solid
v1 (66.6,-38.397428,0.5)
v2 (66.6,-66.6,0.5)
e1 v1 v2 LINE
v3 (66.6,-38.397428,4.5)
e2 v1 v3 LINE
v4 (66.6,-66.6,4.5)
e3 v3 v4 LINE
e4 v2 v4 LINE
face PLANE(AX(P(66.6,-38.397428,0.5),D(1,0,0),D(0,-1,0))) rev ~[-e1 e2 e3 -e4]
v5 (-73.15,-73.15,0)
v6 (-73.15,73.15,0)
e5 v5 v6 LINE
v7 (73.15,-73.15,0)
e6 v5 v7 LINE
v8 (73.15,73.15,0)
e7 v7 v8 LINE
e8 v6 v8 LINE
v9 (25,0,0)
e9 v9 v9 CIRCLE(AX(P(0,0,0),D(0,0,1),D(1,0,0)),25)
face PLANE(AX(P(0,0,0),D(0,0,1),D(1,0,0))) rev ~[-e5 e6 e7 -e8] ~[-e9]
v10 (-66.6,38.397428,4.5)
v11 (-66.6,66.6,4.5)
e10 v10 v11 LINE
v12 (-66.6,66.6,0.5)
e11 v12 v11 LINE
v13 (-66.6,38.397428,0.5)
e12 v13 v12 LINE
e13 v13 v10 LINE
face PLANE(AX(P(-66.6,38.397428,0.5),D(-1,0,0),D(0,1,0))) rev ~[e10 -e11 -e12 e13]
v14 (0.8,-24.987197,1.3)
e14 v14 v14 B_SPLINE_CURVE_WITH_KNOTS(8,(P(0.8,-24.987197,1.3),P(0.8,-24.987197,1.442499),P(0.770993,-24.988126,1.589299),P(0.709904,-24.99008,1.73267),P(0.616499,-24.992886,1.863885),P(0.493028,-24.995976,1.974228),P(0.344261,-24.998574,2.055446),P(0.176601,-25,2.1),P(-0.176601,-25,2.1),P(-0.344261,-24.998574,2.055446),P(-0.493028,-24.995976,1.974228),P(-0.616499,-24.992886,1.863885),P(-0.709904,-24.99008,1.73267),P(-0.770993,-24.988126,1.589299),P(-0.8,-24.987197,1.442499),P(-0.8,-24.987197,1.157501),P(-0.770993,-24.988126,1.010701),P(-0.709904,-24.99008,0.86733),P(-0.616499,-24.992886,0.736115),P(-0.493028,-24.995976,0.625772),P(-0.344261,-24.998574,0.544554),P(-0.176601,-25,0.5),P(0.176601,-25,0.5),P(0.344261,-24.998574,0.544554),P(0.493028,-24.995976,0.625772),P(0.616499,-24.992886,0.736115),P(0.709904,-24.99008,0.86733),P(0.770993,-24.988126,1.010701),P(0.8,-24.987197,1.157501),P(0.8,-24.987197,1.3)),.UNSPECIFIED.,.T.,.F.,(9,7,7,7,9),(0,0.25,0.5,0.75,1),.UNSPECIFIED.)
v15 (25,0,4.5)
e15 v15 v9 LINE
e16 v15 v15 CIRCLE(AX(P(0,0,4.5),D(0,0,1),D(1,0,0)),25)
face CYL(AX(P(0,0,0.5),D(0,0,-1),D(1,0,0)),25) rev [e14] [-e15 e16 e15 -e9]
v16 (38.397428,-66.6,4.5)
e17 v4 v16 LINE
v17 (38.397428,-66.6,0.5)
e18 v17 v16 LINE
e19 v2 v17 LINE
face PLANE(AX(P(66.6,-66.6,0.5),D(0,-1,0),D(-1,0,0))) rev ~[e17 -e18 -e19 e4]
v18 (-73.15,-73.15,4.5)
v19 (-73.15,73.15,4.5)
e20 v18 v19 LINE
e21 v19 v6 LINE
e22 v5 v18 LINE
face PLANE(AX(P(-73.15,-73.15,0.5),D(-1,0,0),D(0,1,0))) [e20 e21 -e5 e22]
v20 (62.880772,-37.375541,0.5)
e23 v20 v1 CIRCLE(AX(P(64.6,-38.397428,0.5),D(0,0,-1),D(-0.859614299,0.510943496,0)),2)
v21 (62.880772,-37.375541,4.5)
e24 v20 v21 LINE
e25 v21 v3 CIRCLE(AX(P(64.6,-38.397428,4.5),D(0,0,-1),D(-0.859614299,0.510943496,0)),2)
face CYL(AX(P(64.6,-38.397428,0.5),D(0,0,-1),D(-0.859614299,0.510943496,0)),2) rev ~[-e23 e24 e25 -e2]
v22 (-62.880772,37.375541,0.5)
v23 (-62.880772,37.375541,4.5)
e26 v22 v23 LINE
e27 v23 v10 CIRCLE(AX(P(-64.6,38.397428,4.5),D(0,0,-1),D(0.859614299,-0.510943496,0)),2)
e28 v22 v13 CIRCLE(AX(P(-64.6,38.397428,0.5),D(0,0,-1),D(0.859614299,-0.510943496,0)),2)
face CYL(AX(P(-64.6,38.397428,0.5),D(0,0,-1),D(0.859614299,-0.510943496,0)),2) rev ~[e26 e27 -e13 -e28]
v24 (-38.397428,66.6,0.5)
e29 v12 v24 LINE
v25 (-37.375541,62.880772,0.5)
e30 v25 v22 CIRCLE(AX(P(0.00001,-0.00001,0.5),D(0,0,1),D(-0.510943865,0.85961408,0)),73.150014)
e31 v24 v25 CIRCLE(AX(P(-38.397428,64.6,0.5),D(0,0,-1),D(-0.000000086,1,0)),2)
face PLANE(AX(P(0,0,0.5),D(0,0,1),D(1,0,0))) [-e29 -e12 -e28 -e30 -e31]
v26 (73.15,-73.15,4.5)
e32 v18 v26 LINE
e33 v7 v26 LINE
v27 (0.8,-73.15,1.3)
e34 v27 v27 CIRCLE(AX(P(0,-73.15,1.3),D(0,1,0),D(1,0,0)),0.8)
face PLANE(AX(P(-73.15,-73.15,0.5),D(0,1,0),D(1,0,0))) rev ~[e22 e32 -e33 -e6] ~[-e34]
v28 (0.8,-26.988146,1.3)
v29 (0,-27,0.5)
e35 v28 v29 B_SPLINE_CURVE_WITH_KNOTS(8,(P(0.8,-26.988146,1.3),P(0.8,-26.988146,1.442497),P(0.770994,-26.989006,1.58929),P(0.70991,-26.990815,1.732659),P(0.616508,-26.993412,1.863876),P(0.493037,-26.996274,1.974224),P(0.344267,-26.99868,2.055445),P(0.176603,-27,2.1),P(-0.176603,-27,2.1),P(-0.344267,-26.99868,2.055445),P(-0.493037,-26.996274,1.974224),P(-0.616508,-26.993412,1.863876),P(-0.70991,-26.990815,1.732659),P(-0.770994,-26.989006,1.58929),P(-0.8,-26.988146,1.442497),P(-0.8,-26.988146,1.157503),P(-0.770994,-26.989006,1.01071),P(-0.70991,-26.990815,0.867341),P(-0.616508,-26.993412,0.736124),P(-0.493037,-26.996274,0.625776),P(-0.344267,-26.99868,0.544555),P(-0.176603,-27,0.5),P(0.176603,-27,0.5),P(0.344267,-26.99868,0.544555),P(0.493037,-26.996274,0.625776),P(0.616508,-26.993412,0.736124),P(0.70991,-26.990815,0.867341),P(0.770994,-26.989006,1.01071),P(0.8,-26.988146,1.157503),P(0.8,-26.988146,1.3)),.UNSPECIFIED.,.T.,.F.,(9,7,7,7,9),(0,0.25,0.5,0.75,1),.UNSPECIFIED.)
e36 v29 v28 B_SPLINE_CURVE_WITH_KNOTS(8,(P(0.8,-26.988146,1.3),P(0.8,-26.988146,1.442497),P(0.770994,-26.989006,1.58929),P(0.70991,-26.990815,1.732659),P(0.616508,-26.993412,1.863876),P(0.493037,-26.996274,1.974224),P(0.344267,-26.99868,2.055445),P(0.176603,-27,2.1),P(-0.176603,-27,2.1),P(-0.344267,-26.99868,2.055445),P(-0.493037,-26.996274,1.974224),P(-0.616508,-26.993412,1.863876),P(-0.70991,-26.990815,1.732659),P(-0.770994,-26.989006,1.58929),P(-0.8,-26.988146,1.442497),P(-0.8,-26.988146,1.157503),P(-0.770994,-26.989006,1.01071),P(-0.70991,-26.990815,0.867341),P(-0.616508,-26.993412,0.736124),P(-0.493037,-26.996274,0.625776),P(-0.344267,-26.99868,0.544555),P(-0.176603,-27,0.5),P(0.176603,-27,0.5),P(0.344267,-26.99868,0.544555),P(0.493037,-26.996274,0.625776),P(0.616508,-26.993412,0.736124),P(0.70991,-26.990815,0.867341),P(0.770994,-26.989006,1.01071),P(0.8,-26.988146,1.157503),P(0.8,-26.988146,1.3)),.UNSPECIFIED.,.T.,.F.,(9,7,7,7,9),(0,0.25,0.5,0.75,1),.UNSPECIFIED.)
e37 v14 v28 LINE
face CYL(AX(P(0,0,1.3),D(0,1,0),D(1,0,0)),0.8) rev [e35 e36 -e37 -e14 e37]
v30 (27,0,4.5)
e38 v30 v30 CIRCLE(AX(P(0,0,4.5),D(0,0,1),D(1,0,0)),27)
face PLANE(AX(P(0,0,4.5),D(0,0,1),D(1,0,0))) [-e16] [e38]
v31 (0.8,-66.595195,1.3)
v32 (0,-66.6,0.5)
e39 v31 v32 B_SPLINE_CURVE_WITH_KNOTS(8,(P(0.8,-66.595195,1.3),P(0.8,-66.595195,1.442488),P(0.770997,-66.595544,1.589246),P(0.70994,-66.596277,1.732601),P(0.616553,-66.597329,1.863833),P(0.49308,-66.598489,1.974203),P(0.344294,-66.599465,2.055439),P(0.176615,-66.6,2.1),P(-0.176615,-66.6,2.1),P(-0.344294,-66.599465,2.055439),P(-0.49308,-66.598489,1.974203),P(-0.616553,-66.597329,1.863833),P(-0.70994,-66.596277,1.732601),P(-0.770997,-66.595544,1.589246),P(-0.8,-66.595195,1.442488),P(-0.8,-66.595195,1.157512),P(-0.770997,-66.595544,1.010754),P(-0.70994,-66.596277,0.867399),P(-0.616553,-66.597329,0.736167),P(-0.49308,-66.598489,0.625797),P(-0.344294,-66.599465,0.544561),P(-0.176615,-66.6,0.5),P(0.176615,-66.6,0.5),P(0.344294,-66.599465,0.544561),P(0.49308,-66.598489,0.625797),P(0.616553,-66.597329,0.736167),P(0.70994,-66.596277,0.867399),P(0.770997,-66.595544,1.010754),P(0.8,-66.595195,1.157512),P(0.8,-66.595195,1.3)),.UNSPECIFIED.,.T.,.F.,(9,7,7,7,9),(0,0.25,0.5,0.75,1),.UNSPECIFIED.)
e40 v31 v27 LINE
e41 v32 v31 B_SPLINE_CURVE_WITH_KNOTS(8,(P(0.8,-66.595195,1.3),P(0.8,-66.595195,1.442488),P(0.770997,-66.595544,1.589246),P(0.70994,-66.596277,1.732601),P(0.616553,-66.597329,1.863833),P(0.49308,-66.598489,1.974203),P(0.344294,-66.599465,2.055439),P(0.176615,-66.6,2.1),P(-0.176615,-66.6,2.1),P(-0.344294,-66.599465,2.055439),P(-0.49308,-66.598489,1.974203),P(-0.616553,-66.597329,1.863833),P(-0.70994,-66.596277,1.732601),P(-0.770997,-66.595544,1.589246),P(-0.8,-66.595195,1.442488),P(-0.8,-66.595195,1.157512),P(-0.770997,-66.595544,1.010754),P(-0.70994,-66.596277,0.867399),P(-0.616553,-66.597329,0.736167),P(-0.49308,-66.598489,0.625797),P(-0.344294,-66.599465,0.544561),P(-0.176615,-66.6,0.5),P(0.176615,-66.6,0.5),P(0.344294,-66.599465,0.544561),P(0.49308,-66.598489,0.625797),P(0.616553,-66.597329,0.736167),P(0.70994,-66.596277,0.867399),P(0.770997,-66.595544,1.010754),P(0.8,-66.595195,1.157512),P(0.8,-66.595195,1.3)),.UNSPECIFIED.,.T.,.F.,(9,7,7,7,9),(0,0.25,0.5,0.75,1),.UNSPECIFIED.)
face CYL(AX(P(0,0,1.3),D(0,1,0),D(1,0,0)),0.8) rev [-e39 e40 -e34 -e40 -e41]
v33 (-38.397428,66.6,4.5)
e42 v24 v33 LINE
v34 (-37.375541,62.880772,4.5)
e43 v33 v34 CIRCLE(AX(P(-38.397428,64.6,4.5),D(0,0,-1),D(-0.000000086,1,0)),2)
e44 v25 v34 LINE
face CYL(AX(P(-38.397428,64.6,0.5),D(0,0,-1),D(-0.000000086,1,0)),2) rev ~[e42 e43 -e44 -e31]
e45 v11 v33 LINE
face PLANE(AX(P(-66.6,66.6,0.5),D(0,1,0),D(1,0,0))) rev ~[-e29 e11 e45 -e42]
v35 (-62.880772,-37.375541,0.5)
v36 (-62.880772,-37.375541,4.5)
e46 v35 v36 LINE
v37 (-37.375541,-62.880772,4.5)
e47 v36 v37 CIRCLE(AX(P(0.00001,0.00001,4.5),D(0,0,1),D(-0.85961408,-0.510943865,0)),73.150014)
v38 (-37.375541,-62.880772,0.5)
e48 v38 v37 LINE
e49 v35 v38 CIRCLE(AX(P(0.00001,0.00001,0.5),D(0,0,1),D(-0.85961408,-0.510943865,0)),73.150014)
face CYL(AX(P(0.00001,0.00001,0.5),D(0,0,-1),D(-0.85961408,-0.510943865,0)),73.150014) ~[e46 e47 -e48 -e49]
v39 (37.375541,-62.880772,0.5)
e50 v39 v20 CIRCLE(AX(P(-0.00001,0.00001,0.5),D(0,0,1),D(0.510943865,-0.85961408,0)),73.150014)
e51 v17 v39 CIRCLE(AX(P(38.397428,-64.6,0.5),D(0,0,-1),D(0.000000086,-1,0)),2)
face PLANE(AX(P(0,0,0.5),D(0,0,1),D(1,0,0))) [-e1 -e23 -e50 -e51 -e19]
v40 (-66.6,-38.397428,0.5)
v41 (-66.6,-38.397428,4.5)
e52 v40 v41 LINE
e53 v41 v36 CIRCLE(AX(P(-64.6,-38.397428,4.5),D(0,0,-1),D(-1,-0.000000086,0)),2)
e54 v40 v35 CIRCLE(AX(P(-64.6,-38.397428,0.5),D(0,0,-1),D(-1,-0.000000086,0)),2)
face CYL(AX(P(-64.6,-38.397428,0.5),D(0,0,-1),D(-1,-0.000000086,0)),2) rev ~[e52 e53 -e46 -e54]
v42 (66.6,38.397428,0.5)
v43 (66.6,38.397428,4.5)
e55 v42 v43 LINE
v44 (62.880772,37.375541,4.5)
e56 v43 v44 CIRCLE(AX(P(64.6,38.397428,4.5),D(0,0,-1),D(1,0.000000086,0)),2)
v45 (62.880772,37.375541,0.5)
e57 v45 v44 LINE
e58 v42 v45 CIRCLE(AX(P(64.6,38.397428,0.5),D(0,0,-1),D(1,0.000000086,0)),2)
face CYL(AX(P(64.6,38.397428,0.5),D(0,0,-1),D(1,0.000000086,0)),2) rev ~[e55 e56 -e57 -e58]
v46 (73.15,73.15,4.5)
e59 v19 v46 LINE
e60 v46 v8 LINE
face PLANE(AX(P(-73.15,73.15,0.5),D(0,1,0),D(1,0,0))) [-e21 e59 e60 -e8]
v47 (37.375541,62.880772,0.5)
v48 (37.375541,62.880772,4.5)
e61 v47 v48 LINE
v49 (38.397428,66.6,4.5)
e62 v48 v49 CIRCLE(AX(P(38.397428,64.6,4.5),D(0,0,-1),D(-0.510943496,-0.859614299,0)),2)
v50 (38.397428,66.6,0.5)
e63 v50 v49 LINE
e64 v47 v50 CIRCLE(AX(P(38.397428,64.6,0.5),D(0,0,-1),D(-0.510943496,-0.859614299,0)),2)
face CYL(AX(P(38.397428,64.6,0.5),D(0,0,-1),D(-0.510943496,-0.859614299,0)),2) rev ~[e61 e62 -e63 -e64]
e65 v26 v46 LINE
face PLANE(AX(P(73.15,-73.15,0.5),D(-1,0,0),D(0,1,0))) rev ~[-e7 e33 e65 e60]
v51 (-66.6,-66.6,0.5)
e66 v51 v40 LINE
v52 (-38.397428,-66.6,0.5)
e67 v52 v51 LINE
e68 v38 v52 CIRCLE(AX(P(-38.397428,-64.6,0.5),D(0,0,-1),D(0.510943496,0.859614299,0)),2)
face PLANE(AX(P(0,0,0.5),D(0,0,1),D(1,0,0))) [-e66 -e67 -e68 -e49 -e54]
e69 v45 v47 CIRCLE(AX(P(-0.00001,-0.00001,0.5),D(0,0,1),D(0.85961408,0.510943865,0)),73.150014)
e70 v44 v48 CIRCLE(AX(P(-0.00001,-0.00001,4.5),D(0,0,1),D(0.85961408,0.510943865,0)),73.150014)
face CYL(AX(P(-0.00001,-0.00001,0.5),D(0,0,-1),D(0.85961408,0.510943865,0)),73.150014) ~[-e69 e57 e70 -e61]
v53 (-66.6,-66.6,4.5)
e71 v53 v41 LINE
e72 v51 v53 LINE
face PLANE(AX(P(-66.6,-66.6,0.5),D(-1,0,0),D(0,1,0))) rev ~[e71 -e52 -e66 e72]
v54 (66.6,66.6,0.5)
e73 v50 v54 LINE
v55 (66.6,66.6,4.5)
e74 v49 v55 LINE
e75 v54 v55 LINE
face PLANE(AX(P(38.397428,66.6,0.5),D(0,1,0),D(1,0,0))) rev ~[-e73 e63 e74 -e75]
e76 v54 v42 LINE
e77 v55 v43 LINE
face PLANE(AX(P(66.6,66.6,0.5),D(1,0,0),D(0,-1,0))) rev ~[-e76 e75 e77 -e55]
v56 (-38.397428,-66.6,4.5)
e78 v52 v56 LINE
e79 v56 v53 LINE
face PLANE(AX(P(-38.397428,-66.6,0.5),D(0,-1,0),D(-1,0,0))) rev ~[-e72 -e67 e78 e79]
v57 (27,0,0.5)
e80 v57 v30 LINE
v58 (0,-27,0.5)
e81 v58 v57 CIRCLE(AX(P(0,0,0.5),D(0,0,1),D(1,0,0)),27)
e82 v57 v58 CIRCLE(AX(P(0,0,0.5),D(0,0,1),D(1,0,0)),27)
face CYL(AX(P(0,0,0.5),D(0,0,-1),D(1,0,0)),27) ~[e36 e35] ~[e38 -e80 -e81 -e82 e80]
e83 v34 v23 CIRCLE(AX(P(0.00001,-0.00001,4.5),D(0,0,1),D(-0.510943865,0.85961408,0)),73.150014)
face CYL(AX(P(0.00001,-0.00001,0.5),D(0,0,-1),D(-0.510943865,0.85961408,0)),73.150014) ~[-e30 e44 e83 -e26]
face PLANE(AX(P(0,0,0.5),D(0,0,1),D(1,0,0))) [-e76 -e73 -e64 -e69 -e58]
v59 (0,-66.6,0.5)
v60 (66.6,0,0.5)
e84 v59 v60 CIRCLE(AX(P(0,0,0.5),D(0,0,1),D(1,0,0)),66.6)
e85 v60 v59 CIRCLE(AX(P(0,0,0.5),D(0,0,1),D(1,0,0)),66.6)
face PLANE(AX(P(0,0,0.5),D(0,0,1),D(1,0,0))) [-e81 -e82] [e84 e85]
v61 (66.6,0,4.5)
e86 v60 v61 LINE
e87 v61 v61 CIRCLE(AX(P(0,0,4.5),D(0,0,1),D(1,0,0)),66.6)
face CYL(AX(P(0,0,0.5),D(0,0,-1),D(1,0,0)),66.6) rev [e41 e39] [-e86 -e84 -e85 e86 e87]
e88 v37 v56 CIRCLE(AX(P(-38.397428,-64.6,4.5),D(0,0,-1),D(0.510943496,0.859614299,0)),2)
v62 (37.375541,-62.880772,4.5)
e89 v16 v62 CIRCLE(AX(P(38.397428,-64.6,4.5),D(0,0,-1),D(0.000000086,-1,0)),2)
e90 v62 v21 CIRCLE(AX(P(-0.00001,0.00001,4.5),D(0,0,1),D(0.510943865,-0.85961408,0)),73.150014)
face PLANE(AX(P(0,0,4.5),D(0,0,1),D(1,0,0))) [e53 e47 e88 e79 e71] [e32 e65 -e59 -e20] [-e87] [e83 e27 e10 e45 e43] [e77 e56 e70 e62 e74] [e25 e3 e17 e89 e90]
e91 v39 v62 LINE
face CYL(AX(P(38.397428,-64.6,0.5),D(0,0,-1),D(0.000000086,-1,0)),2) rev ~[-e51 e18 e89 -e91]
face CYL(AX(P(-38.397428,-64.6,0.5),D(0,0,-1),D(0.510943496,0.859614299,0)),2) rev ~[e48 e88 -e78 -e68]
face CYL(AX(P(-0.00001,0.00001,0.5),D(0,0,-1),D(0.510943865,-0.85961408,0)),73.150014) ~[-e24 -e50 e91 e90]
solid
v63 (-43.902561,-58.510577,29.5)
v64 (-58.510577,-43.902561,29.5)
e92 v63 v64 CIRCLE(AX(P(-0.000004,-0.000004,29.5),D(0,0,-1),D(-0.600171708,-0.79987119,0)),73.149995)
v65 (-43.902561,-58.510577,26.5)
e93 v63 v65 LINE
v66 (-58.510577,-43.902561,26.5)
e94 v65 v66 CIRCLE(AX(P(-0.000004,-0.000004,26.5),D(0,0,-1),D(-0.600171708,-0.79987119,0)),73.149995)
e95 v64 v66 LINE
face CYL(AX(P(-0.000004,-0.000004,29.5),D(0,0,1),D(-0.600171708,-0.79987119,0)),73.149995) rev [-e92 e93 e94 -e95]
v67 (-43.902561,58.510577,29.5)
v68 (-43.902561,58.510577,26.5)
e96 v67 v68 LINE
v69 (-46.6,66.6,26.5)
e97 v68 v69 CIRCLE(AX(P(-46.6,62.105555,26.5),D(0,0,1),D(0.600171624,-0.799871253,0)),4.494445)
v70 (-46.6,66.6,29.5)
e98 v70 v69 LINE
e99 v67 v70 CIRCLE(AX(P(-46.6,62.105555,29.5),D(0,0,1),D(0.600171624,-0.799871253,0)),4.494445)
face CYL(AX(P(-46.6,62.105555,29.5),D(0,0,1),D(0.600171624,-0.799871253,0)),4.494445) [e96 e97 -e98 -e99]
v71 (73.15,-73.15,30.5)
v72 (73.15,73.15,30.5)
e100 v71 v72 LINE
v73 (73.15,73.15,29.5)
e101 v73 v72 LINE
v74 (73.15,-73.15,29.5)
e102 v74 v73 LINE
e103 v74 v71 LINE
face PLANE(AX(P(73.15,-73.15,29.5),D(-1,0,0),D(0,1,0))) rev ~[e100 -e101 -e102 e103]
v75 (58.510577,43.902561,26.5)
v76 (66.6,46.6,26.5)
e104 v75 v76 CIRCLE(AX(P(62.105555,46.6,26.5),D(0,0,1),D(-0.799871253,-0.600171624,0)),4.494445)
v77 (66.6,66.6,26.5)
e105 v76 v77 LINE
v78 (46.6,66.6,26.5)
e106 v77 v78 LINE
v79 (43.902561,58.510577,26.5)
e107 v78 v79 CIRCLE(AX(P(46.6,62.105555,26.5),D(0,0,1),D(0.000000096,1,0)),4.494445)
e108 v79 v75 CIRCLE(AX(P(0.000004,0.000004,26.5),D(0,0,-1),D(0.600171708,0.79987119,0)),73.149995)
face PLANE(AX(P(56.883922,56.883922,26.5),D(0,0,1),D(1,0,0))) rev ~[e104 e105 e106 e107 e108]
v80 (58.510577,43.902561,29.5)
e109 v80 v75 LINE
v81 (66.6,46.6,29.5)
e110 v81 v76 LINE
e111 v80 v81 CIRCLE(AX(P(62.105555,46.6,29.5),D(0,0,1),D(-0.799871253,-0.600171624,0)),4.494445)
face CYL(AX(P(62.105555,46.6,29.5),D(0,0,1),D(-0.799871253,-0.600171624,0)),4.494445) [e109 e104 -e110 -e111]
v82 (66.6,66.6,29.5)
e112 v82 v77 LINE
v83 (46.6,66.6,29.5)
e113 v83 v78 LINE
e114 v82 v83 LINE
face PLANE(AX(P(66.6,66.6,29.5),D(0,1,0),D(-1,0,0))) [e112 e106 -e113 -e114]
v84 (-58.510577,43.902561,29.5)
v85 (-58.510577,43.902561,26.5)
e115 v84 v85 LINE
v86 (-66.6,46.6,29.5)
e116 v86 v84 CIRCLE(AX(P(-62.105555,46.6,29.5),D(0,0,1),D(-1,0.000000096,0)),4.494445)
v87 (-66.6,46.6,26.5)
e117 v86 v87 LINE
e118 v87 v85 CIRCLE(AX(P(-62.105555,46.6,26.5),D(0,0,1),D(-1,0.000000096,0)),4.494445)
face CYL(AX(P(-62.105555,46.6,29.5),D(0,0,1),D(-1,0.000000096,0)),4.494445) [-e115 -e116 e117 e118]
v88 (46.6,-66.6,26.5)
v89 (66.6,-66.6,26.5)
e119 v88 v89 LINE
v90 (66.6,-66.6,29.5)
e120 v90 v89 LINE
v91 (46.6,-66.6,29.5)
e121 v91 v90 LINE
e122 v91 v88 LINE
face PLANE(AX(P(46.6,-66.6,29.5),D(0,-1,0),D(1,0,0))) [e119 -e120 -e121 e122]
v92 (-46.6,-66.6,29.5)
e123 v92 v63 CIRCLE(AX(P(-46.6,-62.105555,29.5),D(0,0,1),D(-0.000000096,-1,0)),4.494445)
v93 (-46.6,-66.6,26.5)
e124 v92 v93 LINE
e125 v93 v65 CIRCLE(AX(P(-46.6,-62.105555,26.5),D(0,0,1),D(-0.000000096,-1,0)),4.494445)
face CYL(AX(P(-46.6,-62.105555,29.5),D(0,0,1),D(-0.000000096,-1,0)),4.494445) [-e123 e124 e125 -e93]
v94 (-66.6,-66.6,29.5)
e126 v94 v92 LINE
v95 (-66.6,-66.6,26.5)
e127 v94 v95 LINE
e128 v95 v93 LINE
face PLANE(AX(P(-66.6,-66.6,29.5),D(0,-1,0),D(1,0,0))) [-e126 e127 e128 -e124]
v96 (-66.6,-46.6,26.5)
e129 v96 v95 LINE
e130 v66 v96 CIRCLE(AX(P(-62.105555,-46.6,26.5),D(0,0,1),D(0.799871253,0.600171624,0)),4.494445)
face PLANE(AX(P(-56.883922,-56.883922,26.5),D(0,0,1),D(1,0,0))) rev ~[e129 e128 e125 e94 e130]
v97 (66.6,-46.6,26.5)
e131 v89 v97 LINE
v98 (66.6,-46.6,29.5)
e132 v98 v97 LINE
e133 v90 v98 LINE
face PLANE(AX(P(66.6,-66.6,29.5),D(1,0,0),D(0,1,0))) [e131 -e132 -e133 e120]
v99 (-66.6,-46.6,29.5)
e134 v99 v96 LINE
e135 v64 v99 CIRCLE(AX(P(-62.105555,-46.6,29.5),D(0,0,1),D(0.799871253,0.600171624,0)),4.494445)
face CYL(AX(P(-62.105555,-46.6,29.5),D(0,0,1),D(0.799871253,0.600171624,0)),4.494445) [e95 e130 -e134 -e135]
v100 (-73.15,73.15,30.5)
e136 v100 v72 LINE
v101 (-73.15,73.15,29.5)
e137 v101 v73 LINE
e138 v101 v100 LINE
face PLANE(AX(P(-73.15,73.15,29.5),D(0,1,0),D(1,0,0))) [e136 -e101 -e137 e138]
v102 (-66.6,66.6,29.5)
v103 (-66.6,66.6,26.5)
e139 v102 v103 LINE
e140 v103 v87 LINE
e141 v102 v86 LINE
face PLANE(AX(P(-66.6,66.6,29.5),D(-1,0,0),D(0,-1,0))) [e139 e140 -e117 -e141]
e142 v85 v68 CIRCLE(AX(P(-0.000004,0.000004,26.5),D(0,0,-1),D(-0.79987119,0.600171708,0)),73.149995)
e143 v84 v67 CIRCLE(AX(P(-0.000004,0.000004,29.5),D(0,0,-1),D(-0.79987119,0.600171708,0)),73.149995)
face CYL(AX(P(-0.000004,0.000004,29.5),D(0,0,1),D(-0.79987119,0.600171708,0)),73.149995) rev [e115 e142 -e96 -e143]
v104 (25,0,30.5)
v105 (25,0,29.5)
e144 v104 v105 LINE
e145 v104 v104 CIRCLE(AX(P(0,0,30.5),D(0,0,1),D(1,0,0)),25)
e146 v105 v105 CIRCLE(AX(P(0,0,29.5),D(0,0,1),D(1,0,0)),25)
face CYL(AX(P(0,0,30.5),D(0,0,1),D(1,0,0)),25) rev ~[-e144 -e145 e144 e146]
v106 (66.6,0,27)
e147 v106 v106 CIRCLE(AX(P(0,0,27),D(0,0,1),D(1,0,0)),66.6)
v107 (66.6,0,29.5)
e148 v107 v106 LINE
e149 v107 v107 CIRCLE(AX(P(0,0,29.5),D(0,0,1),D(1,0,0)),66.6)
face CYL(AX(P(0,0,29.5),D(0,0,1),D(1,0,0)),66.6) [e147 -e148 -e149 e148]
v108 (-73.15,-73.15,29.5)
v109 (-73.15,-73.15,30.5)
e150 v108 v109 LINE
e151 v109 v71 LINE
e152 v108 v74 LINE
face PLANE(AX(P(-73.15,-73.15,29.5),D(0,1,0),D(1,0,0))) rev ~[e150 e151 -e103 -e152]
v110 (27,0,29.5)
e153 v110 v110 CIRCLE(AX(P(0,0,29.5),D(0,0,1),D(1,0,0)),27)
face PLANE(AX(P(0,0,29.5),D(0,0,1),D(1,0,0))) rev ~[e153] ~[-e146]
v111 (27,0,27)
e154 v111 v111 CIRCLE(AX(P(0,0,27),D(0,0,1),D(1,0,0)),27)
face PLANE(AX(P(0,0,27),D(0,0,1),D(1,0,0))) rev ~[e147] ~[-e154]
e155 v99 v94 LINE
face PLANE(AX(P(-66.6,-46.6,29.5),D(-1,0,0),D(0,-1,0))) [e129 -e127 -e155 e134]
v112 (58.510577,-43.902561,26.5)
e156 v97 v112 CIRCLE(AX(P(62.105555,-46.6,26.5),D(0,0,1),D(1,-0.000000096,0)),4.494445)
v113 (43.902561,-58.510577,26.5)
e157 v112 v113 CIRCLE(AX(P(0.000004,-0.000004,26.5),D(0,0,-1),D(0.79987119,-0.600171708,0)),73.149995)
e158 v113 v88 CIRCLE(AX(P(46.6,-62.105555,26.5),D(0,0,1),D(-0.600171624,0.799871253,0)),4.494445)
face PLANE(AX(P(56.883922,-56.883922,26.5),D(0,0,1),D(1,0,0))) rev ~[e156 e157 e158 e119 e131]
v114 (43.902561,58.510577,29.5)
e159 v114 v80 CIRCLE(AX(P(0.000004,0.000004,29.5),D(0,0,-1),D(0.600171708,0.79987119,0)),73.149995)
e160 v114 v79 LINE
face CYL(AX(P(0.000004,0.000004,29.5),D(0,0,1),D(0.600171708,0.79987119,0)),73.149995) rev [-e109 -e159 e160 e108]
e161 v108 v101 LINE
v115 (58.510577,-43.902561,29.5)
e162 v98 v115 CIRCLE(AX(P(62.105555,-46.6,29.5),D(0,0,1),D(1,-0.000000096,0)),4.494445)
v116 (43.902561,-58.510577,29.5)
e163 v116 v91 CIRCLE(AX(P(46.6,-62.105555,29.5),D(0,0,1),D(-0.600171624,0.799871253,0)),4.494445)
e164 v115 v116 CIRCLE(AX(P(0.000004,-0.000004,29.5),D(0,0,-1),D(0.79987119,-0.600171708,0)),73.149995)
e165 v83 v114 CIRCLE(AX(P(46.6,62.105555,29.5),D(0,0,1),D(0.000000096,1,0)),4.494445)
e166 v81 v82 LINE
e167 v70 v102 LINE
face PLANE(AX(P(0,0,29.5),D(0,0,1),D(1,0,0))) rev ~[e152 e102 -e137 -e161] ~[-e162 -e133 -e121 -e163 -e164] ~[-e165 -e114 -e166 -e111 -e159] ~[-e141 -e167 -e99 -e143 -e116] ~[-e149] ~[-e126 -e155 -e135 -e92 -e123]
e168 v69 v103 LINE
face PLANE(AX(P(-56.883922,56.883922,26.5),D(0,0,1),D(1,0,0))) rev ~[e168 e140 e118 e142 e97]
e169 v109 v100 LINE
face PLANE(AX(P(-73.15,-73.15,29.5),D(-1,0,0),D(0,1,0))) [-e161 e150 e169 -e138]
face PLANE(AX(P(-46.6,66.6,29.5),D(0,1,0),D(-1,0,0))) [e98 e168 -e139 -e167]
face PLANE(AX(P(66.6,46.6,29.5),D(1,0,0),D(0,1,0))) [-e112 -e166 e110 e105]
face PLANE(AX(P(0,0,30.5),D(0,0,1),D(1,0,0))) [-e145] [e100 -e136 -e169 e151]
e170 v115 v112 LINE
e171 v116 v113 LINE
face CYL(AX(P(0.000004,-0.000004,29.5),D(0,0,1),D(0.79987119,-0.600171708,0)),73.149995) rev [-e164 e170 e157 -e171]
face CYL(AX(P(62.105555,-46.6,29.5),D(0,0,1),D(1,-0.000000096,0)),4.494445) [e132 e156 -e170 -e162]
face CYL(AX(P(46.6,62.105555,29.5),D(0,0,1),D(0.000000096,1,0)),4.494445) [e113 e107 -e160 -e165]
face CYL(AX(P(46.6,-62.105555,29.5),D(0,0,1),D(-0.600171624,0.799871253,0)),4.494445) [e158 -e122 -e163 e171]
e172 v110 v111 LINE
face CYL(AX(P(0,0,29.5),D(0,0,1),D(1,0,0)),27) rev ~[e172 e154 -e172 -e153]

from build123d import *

# Parameters (mm, degrees)
F0_W      = 146.3
F0_H      = 146.3
F0_R      = 25
F1_DEPTH  = 0.5
F2_W      = 146.3
F2_H      = 146.3
F2_R      = 66.6
F3_DEPTH  = 4
F2_R_2    = 27
F2_R_3    = 25
F4_DEPTH  = 4
F5_R      = 0.8
F6_DEPTH  = 73.151
F8_W      = 146.3
F8_H      = 146.3
F8_R      = 66.6
F8_R_2    = 27
F9_DEPTH  = 1
F10_DEPTH = 2.5
F11_DEPTH = 3
F12_R     = 27
F12_R_2   = 25
F13_DEPTH = 1


with BuildPart() as f1:
    # F0 (on Top) → F1 (new body)
    with BuildSketch(Plane.XY):
        Rectangle(F0_W, F0_H)
        Circle(F0_R, mode=Mode.SUBTRACT)
    extrude(amount=F1_DEPTH)

    # F2 (on face) → F3 (join)
    with BuildSketch(Plane.XY.offset(0.5)):
        Rectangle(F2_W, F2_H)
        with BuildLine():
            ThreePointArc((-37.375541, -62.880772), (-36.468898, -65.129879), (-38.397428, -66.6))
            Line((-38.397428, -66.6), (-66.6, -66.6))
            Line((-66.6, -66.6), (-66.6, -38.397428))
            ThreePointArc((-66.6, -38.397428), (-65.129879, -36.468898), (-62.880772, -37.375541))
            ThreePointArc((-62.880772, -37.375541), (-51.724861, -51.724861), (-37.375541, -62.880772))
        make_face(mode=Mode.SUBTRACT)
        with BuildLine():
            ThreePointArc((62.880772, -37.375541), (65.129879, -36.468898), (66.6, -38.397428))
            Line((66.6, -38.397428), (66.6, -66.6))
            Line((66.6, -66.6), (38.397428, -66.6))
            ThreePointArc((38.397428, -66.6), (36.468898, -65.129879), (37.375541, -62.880772))
            ThreePointArc((37.375541, -62.880772), (51.724861, -51.724861), (62.880772, -37.375541))
        make_face(mode=Mode.SUBTRACT)
        with BuildLine():
            ThreePointArc((-38.397428, 66.6), (-36.468898, 65.129879), (-37.375541, 62.880772))
            ThreePointArc((-37.375541, 62.880772), (-51.724861, 51.724861), (-62.880772, 37.375541))
            ThreePointArc((-62.880772, 37.375541), (-65.129879, 36.468898), (-66.6, 38.397428))
            Line((-66.6, 38.397428), (-66.6, 66.6))
            Line((-66.6, 66.6), (-38.397428, 66.6))
        make_face(mode=Mode.SUBTRACT)
        Circle(F2_R, mode=Mode.SUBTRACT)
        with BuildLine():
            ThreePointArc((37.375541, 62.880772), (36.468898, 65.129879), (38.397428, 66.6))
            Line((38.397428, 66.6), (66.6, 66.6))
            Line((66.6, 66.6), (66.6, 38.397428))
            ThreePointArc((66.6, 38.397428), (65.129879, 36.468898), (62.880772, 37.375541))
            ThreePointArc((62.880772, 37.375541), (51.724861, 51.724861), (37.375541, 62.880772))
        make_face(mode=Mode.SUBTRACT)
    extrude(amount=F3_DEPTH)

    # F2 (on face) → F4 (join)
    with BuildSketch(Plane.XY.offset(0.5)):
        Circle(F2_R_2)
        Circle(F2_R_3, mode=Mode.SUBTRACT)
    extrude(amount=F4_DEPTH)

    # F5 (on Front) → F6 (cut, through all)
    with BuildSketch(Plane.XZ):
        with Locations((0, 1.3)):
            Circle(F5_R)
    extrude(amount=F6_DEPTH, mode=Mode.SUBTRACT)


with BuildPart() as f9:
    # F8 (on offset) → F9 (new body)
    with BuildSketch(Plane.XY.offset(29.5)):
        Rectangle(F8_W, F8_H)
        with BuildLine():
            ThreePointArc((-58.510577, -43.902561), (-51.724861, -51.724861), (-43.902561, -58.510577))
            ThreePointArc((-43.902561, -58.510577), (-42.336347, -63.527281), (-46.6, -66.6))
            Line((-46.6, -66.6), (-66.6, -66.6))
            Line((-66.6, -66.6), (-66.6, -46.6))
            ThreePointArc((-66.6, -46.6), (-63.527281, -42.336347), (-58.510577, -43.902561))
        make_face(mode=Mode.SUBTRACT)
        with BuildLine():
            ThreePointArc((43.902561, -58.510577), (51.724861, -51.724861), (58.510577, -43.902561))
            ThreePointArc((58.510577, -43.902561), (63.527281, -42.336347), (66.6, -46.6))
            Line((66.6, -46.6), (66.6, -66.6))
            Line((66.6, -66.6), (46.6, -66.6))
            ThreePointArc((46.6, -66.6), (42.336347, -63.527281), (43.902561, -58.510577))
        make_face(mode=Mode.SUBTRACT)
        with BuildLine():
            Line((-66.6, 66.6), (-46.6, 66.6))
            ThreePointArc((-46.6, 66.6), (-42.336347, 63.527281), (-43.902561, 58.510577))
            ThreePointArc((-43.902561, 58.510577), (-51.724861, 51.724861), (-58.510577, 43.902561))
            ThreePointArc((-58.510577, 43.902561), (-63.527281, 42.336347), (-66.6, 46.6))
            Line((-66.6, 46.6), (-66.6, 66.6))
        make_face(mode=Mode.SUBTRACT)
        Circle(F8_R, mode=Mode.SUBTRACT)
        with BuildLine():
            ThreePointArc((58.510577, 43.902561), (51.724861, 51.724861), (43.902561, 58.510577))
            ThreePointArc((43.902561, 58.510577), (42.336347, 63.527281), (46.6, 66.6))
            Line((46.6, 66.6), (66.6, 66.6))
            Line((66.6, 66.6), (66.6, 46.6))
            ThreePointArc((66.6, 46.6), (63.527281, 42.336347), (58.510577, 43.902561))
        make_face(mode=Mode.SUBTRACT)
        with BuildLine():
            ThreePointArc((-43.902561, 58.510577), (-42.336347, 63.527281), (-46.6, 66.6))
            Line((-46.6, 66.6), (-66.6, 66.6))
            Line((-66.6, 66.6), (-66.6, 46.6))
            ThreePointArc((-66.6, 46.6), (-63.527281, 42.336347), (-58.510577, 43.902561))
            ThreePointArc((-58.510577, 43.902561), (-51.724861, 51.724861), (-43.902561, 58.510577))
        make_face()
        with BuildLine():
            ThreePointArc((46.6, 66.6), (42.336347, 63.527281), (43.902561, 58.510577))
            ThreePointArc((43.902561, 58.510577), (51.724861, 51.724861), (58.510577, 43.902561))
            ThreePointArc((58.510577, 43.902561), (63.527281, 42.336347), (66.6, 46.6))
            Line((66.6, 46.6), (66.6, 66.6))
            Line((66.6, 66.6), (46.6, 66.6))
        make_face()
        with BuildLine():
            ThreePointArc((66.6, -46.6), (63.527281, -42.336347), (58.510577, -43.902561))
            ThreePointArc((58.510577, -43.902561), (51.724861, -51.724861), (43.902561, -58.510577))
            ThreePointArc((43.902561, -58.510577), (42.336347, -63.527281), (46.6, -66.6))
            Line((46.6, -66.6), (66.6, -66.6))
            Line((66.6, -66.6), (66.6, -46.6))
        make_face()
        with BuildLine():
            ThreePointArc((-46.6, -66.6), (-42.336347, -63.527281), (-43.902561, -58.510577))
            ThreePointArc((-43.902561, -58.510577), (-51.724861, -51.724861), (-58.510577, -43.902561))
            ThreePointArc((-58.510577, -43.902561), (-63.527281, -42.336347), (-66.6, -46.6))
            Line((-66.6, -46.6), (-66.6, -66.6))
            Line((-66.6, -66.6), (-46.6, -66.6))
        make_face()
        Circle(F8_R)
        Circle(F8_R_2, mode=Mode.SUBTRACT)
    extrude(amount=F9_DEPTH)

    # F8 (on offset) → F10 (join)
    with BuildSketch(Plane.XY.offset(29.5)):
        Circle(F8_R)
        Circle(F8_R_2, mode=Mode.SUBTRACT)
    extrude(amount=-F10_DEPTH)

    # F8 (on offset) → F11 (join)
    with BuildSketch(Plane.XY.offset(29.5)):
        with BuildLine():
            ThreePointArc((-46.6, -66.6), (-42.336347, -63.527281), (-43.902561, -58.510577))
            ThreePointArc((-43.902561, -58.510577), (-51.724861, -51.724861), (-58.510577, -43.902561))
            ThreePointArc((-58.510577, -43.902561), (-63.527281, -42.336347), (-66.6, -46.6))
            Line((-66.6, -46.6), (-66.6, -66.6))
            Line((-66.6, -66.6), (-46.6, -66.6))
        make_face()
        with BuildLine():
            ThreePointArc((66.6, -46.6), (63.527281, -42.336347), (58.510577, -43.902561))
            ThreePointArc((58.510577, -43.902561), (51.724861, -51.724861), (43.902561, -58.510577))
            ThreePointArc((43.902561, -58.510577), (42.336347, -63.527281), (46.6, -66.6))
            Line((46.6, -66.6), (66.6, -66.6))
            Line((66.6, -66.6), (66.6, -46.6))
        make_face()
        with BuildLine():
            ThreePointArc((-43.902561, 58.510577), (-42.336347, 63.527281), (-46.6, 66.6))
            Line((-46.6, 66.6), (-66.6, 66.6))
            Line((-66.6, 66.6), (-66.6, 46.6))
            ThreePointArc((-66.6, 46.6), (-63.527281, 42.336347), (-58.510577, 43.902561))
            ThreePointArc((-58.510577, 43.902561), (-51.724861, 51.724861), (-43.902561, 58.510577))
        make_face()
        with BuildLine():
            ThreePointArc((46.6, 66.6), (42.336347, 63.527281), (43.902561, 58.510577))
            ThreePointArc((43.902561, 58.510577), (51.724861, 51.724861), (58.510577, 43.902561))
            ThreePointArc((58.510577, 43.902561), (63.527281, 42.336347), (66.6, 46.6))
            Line((66.6, 46.6), (66.6, 66.6))
            Line((66.6, 66.6), (46.6, 66.6))
        make_face()
    extrude(amount=-F11_DEPTH)

    # F12 (on face) → F13 (join)
    with BuildSketch(Plane.XY.offset(30.5)):
        Circle(F12_R)
        Circle(F12_R_2, mode=Mode.SUBTRACT)
    extrude(amount=-F13_DEPTH)


solid = Compound([f1.part, f9.part])
